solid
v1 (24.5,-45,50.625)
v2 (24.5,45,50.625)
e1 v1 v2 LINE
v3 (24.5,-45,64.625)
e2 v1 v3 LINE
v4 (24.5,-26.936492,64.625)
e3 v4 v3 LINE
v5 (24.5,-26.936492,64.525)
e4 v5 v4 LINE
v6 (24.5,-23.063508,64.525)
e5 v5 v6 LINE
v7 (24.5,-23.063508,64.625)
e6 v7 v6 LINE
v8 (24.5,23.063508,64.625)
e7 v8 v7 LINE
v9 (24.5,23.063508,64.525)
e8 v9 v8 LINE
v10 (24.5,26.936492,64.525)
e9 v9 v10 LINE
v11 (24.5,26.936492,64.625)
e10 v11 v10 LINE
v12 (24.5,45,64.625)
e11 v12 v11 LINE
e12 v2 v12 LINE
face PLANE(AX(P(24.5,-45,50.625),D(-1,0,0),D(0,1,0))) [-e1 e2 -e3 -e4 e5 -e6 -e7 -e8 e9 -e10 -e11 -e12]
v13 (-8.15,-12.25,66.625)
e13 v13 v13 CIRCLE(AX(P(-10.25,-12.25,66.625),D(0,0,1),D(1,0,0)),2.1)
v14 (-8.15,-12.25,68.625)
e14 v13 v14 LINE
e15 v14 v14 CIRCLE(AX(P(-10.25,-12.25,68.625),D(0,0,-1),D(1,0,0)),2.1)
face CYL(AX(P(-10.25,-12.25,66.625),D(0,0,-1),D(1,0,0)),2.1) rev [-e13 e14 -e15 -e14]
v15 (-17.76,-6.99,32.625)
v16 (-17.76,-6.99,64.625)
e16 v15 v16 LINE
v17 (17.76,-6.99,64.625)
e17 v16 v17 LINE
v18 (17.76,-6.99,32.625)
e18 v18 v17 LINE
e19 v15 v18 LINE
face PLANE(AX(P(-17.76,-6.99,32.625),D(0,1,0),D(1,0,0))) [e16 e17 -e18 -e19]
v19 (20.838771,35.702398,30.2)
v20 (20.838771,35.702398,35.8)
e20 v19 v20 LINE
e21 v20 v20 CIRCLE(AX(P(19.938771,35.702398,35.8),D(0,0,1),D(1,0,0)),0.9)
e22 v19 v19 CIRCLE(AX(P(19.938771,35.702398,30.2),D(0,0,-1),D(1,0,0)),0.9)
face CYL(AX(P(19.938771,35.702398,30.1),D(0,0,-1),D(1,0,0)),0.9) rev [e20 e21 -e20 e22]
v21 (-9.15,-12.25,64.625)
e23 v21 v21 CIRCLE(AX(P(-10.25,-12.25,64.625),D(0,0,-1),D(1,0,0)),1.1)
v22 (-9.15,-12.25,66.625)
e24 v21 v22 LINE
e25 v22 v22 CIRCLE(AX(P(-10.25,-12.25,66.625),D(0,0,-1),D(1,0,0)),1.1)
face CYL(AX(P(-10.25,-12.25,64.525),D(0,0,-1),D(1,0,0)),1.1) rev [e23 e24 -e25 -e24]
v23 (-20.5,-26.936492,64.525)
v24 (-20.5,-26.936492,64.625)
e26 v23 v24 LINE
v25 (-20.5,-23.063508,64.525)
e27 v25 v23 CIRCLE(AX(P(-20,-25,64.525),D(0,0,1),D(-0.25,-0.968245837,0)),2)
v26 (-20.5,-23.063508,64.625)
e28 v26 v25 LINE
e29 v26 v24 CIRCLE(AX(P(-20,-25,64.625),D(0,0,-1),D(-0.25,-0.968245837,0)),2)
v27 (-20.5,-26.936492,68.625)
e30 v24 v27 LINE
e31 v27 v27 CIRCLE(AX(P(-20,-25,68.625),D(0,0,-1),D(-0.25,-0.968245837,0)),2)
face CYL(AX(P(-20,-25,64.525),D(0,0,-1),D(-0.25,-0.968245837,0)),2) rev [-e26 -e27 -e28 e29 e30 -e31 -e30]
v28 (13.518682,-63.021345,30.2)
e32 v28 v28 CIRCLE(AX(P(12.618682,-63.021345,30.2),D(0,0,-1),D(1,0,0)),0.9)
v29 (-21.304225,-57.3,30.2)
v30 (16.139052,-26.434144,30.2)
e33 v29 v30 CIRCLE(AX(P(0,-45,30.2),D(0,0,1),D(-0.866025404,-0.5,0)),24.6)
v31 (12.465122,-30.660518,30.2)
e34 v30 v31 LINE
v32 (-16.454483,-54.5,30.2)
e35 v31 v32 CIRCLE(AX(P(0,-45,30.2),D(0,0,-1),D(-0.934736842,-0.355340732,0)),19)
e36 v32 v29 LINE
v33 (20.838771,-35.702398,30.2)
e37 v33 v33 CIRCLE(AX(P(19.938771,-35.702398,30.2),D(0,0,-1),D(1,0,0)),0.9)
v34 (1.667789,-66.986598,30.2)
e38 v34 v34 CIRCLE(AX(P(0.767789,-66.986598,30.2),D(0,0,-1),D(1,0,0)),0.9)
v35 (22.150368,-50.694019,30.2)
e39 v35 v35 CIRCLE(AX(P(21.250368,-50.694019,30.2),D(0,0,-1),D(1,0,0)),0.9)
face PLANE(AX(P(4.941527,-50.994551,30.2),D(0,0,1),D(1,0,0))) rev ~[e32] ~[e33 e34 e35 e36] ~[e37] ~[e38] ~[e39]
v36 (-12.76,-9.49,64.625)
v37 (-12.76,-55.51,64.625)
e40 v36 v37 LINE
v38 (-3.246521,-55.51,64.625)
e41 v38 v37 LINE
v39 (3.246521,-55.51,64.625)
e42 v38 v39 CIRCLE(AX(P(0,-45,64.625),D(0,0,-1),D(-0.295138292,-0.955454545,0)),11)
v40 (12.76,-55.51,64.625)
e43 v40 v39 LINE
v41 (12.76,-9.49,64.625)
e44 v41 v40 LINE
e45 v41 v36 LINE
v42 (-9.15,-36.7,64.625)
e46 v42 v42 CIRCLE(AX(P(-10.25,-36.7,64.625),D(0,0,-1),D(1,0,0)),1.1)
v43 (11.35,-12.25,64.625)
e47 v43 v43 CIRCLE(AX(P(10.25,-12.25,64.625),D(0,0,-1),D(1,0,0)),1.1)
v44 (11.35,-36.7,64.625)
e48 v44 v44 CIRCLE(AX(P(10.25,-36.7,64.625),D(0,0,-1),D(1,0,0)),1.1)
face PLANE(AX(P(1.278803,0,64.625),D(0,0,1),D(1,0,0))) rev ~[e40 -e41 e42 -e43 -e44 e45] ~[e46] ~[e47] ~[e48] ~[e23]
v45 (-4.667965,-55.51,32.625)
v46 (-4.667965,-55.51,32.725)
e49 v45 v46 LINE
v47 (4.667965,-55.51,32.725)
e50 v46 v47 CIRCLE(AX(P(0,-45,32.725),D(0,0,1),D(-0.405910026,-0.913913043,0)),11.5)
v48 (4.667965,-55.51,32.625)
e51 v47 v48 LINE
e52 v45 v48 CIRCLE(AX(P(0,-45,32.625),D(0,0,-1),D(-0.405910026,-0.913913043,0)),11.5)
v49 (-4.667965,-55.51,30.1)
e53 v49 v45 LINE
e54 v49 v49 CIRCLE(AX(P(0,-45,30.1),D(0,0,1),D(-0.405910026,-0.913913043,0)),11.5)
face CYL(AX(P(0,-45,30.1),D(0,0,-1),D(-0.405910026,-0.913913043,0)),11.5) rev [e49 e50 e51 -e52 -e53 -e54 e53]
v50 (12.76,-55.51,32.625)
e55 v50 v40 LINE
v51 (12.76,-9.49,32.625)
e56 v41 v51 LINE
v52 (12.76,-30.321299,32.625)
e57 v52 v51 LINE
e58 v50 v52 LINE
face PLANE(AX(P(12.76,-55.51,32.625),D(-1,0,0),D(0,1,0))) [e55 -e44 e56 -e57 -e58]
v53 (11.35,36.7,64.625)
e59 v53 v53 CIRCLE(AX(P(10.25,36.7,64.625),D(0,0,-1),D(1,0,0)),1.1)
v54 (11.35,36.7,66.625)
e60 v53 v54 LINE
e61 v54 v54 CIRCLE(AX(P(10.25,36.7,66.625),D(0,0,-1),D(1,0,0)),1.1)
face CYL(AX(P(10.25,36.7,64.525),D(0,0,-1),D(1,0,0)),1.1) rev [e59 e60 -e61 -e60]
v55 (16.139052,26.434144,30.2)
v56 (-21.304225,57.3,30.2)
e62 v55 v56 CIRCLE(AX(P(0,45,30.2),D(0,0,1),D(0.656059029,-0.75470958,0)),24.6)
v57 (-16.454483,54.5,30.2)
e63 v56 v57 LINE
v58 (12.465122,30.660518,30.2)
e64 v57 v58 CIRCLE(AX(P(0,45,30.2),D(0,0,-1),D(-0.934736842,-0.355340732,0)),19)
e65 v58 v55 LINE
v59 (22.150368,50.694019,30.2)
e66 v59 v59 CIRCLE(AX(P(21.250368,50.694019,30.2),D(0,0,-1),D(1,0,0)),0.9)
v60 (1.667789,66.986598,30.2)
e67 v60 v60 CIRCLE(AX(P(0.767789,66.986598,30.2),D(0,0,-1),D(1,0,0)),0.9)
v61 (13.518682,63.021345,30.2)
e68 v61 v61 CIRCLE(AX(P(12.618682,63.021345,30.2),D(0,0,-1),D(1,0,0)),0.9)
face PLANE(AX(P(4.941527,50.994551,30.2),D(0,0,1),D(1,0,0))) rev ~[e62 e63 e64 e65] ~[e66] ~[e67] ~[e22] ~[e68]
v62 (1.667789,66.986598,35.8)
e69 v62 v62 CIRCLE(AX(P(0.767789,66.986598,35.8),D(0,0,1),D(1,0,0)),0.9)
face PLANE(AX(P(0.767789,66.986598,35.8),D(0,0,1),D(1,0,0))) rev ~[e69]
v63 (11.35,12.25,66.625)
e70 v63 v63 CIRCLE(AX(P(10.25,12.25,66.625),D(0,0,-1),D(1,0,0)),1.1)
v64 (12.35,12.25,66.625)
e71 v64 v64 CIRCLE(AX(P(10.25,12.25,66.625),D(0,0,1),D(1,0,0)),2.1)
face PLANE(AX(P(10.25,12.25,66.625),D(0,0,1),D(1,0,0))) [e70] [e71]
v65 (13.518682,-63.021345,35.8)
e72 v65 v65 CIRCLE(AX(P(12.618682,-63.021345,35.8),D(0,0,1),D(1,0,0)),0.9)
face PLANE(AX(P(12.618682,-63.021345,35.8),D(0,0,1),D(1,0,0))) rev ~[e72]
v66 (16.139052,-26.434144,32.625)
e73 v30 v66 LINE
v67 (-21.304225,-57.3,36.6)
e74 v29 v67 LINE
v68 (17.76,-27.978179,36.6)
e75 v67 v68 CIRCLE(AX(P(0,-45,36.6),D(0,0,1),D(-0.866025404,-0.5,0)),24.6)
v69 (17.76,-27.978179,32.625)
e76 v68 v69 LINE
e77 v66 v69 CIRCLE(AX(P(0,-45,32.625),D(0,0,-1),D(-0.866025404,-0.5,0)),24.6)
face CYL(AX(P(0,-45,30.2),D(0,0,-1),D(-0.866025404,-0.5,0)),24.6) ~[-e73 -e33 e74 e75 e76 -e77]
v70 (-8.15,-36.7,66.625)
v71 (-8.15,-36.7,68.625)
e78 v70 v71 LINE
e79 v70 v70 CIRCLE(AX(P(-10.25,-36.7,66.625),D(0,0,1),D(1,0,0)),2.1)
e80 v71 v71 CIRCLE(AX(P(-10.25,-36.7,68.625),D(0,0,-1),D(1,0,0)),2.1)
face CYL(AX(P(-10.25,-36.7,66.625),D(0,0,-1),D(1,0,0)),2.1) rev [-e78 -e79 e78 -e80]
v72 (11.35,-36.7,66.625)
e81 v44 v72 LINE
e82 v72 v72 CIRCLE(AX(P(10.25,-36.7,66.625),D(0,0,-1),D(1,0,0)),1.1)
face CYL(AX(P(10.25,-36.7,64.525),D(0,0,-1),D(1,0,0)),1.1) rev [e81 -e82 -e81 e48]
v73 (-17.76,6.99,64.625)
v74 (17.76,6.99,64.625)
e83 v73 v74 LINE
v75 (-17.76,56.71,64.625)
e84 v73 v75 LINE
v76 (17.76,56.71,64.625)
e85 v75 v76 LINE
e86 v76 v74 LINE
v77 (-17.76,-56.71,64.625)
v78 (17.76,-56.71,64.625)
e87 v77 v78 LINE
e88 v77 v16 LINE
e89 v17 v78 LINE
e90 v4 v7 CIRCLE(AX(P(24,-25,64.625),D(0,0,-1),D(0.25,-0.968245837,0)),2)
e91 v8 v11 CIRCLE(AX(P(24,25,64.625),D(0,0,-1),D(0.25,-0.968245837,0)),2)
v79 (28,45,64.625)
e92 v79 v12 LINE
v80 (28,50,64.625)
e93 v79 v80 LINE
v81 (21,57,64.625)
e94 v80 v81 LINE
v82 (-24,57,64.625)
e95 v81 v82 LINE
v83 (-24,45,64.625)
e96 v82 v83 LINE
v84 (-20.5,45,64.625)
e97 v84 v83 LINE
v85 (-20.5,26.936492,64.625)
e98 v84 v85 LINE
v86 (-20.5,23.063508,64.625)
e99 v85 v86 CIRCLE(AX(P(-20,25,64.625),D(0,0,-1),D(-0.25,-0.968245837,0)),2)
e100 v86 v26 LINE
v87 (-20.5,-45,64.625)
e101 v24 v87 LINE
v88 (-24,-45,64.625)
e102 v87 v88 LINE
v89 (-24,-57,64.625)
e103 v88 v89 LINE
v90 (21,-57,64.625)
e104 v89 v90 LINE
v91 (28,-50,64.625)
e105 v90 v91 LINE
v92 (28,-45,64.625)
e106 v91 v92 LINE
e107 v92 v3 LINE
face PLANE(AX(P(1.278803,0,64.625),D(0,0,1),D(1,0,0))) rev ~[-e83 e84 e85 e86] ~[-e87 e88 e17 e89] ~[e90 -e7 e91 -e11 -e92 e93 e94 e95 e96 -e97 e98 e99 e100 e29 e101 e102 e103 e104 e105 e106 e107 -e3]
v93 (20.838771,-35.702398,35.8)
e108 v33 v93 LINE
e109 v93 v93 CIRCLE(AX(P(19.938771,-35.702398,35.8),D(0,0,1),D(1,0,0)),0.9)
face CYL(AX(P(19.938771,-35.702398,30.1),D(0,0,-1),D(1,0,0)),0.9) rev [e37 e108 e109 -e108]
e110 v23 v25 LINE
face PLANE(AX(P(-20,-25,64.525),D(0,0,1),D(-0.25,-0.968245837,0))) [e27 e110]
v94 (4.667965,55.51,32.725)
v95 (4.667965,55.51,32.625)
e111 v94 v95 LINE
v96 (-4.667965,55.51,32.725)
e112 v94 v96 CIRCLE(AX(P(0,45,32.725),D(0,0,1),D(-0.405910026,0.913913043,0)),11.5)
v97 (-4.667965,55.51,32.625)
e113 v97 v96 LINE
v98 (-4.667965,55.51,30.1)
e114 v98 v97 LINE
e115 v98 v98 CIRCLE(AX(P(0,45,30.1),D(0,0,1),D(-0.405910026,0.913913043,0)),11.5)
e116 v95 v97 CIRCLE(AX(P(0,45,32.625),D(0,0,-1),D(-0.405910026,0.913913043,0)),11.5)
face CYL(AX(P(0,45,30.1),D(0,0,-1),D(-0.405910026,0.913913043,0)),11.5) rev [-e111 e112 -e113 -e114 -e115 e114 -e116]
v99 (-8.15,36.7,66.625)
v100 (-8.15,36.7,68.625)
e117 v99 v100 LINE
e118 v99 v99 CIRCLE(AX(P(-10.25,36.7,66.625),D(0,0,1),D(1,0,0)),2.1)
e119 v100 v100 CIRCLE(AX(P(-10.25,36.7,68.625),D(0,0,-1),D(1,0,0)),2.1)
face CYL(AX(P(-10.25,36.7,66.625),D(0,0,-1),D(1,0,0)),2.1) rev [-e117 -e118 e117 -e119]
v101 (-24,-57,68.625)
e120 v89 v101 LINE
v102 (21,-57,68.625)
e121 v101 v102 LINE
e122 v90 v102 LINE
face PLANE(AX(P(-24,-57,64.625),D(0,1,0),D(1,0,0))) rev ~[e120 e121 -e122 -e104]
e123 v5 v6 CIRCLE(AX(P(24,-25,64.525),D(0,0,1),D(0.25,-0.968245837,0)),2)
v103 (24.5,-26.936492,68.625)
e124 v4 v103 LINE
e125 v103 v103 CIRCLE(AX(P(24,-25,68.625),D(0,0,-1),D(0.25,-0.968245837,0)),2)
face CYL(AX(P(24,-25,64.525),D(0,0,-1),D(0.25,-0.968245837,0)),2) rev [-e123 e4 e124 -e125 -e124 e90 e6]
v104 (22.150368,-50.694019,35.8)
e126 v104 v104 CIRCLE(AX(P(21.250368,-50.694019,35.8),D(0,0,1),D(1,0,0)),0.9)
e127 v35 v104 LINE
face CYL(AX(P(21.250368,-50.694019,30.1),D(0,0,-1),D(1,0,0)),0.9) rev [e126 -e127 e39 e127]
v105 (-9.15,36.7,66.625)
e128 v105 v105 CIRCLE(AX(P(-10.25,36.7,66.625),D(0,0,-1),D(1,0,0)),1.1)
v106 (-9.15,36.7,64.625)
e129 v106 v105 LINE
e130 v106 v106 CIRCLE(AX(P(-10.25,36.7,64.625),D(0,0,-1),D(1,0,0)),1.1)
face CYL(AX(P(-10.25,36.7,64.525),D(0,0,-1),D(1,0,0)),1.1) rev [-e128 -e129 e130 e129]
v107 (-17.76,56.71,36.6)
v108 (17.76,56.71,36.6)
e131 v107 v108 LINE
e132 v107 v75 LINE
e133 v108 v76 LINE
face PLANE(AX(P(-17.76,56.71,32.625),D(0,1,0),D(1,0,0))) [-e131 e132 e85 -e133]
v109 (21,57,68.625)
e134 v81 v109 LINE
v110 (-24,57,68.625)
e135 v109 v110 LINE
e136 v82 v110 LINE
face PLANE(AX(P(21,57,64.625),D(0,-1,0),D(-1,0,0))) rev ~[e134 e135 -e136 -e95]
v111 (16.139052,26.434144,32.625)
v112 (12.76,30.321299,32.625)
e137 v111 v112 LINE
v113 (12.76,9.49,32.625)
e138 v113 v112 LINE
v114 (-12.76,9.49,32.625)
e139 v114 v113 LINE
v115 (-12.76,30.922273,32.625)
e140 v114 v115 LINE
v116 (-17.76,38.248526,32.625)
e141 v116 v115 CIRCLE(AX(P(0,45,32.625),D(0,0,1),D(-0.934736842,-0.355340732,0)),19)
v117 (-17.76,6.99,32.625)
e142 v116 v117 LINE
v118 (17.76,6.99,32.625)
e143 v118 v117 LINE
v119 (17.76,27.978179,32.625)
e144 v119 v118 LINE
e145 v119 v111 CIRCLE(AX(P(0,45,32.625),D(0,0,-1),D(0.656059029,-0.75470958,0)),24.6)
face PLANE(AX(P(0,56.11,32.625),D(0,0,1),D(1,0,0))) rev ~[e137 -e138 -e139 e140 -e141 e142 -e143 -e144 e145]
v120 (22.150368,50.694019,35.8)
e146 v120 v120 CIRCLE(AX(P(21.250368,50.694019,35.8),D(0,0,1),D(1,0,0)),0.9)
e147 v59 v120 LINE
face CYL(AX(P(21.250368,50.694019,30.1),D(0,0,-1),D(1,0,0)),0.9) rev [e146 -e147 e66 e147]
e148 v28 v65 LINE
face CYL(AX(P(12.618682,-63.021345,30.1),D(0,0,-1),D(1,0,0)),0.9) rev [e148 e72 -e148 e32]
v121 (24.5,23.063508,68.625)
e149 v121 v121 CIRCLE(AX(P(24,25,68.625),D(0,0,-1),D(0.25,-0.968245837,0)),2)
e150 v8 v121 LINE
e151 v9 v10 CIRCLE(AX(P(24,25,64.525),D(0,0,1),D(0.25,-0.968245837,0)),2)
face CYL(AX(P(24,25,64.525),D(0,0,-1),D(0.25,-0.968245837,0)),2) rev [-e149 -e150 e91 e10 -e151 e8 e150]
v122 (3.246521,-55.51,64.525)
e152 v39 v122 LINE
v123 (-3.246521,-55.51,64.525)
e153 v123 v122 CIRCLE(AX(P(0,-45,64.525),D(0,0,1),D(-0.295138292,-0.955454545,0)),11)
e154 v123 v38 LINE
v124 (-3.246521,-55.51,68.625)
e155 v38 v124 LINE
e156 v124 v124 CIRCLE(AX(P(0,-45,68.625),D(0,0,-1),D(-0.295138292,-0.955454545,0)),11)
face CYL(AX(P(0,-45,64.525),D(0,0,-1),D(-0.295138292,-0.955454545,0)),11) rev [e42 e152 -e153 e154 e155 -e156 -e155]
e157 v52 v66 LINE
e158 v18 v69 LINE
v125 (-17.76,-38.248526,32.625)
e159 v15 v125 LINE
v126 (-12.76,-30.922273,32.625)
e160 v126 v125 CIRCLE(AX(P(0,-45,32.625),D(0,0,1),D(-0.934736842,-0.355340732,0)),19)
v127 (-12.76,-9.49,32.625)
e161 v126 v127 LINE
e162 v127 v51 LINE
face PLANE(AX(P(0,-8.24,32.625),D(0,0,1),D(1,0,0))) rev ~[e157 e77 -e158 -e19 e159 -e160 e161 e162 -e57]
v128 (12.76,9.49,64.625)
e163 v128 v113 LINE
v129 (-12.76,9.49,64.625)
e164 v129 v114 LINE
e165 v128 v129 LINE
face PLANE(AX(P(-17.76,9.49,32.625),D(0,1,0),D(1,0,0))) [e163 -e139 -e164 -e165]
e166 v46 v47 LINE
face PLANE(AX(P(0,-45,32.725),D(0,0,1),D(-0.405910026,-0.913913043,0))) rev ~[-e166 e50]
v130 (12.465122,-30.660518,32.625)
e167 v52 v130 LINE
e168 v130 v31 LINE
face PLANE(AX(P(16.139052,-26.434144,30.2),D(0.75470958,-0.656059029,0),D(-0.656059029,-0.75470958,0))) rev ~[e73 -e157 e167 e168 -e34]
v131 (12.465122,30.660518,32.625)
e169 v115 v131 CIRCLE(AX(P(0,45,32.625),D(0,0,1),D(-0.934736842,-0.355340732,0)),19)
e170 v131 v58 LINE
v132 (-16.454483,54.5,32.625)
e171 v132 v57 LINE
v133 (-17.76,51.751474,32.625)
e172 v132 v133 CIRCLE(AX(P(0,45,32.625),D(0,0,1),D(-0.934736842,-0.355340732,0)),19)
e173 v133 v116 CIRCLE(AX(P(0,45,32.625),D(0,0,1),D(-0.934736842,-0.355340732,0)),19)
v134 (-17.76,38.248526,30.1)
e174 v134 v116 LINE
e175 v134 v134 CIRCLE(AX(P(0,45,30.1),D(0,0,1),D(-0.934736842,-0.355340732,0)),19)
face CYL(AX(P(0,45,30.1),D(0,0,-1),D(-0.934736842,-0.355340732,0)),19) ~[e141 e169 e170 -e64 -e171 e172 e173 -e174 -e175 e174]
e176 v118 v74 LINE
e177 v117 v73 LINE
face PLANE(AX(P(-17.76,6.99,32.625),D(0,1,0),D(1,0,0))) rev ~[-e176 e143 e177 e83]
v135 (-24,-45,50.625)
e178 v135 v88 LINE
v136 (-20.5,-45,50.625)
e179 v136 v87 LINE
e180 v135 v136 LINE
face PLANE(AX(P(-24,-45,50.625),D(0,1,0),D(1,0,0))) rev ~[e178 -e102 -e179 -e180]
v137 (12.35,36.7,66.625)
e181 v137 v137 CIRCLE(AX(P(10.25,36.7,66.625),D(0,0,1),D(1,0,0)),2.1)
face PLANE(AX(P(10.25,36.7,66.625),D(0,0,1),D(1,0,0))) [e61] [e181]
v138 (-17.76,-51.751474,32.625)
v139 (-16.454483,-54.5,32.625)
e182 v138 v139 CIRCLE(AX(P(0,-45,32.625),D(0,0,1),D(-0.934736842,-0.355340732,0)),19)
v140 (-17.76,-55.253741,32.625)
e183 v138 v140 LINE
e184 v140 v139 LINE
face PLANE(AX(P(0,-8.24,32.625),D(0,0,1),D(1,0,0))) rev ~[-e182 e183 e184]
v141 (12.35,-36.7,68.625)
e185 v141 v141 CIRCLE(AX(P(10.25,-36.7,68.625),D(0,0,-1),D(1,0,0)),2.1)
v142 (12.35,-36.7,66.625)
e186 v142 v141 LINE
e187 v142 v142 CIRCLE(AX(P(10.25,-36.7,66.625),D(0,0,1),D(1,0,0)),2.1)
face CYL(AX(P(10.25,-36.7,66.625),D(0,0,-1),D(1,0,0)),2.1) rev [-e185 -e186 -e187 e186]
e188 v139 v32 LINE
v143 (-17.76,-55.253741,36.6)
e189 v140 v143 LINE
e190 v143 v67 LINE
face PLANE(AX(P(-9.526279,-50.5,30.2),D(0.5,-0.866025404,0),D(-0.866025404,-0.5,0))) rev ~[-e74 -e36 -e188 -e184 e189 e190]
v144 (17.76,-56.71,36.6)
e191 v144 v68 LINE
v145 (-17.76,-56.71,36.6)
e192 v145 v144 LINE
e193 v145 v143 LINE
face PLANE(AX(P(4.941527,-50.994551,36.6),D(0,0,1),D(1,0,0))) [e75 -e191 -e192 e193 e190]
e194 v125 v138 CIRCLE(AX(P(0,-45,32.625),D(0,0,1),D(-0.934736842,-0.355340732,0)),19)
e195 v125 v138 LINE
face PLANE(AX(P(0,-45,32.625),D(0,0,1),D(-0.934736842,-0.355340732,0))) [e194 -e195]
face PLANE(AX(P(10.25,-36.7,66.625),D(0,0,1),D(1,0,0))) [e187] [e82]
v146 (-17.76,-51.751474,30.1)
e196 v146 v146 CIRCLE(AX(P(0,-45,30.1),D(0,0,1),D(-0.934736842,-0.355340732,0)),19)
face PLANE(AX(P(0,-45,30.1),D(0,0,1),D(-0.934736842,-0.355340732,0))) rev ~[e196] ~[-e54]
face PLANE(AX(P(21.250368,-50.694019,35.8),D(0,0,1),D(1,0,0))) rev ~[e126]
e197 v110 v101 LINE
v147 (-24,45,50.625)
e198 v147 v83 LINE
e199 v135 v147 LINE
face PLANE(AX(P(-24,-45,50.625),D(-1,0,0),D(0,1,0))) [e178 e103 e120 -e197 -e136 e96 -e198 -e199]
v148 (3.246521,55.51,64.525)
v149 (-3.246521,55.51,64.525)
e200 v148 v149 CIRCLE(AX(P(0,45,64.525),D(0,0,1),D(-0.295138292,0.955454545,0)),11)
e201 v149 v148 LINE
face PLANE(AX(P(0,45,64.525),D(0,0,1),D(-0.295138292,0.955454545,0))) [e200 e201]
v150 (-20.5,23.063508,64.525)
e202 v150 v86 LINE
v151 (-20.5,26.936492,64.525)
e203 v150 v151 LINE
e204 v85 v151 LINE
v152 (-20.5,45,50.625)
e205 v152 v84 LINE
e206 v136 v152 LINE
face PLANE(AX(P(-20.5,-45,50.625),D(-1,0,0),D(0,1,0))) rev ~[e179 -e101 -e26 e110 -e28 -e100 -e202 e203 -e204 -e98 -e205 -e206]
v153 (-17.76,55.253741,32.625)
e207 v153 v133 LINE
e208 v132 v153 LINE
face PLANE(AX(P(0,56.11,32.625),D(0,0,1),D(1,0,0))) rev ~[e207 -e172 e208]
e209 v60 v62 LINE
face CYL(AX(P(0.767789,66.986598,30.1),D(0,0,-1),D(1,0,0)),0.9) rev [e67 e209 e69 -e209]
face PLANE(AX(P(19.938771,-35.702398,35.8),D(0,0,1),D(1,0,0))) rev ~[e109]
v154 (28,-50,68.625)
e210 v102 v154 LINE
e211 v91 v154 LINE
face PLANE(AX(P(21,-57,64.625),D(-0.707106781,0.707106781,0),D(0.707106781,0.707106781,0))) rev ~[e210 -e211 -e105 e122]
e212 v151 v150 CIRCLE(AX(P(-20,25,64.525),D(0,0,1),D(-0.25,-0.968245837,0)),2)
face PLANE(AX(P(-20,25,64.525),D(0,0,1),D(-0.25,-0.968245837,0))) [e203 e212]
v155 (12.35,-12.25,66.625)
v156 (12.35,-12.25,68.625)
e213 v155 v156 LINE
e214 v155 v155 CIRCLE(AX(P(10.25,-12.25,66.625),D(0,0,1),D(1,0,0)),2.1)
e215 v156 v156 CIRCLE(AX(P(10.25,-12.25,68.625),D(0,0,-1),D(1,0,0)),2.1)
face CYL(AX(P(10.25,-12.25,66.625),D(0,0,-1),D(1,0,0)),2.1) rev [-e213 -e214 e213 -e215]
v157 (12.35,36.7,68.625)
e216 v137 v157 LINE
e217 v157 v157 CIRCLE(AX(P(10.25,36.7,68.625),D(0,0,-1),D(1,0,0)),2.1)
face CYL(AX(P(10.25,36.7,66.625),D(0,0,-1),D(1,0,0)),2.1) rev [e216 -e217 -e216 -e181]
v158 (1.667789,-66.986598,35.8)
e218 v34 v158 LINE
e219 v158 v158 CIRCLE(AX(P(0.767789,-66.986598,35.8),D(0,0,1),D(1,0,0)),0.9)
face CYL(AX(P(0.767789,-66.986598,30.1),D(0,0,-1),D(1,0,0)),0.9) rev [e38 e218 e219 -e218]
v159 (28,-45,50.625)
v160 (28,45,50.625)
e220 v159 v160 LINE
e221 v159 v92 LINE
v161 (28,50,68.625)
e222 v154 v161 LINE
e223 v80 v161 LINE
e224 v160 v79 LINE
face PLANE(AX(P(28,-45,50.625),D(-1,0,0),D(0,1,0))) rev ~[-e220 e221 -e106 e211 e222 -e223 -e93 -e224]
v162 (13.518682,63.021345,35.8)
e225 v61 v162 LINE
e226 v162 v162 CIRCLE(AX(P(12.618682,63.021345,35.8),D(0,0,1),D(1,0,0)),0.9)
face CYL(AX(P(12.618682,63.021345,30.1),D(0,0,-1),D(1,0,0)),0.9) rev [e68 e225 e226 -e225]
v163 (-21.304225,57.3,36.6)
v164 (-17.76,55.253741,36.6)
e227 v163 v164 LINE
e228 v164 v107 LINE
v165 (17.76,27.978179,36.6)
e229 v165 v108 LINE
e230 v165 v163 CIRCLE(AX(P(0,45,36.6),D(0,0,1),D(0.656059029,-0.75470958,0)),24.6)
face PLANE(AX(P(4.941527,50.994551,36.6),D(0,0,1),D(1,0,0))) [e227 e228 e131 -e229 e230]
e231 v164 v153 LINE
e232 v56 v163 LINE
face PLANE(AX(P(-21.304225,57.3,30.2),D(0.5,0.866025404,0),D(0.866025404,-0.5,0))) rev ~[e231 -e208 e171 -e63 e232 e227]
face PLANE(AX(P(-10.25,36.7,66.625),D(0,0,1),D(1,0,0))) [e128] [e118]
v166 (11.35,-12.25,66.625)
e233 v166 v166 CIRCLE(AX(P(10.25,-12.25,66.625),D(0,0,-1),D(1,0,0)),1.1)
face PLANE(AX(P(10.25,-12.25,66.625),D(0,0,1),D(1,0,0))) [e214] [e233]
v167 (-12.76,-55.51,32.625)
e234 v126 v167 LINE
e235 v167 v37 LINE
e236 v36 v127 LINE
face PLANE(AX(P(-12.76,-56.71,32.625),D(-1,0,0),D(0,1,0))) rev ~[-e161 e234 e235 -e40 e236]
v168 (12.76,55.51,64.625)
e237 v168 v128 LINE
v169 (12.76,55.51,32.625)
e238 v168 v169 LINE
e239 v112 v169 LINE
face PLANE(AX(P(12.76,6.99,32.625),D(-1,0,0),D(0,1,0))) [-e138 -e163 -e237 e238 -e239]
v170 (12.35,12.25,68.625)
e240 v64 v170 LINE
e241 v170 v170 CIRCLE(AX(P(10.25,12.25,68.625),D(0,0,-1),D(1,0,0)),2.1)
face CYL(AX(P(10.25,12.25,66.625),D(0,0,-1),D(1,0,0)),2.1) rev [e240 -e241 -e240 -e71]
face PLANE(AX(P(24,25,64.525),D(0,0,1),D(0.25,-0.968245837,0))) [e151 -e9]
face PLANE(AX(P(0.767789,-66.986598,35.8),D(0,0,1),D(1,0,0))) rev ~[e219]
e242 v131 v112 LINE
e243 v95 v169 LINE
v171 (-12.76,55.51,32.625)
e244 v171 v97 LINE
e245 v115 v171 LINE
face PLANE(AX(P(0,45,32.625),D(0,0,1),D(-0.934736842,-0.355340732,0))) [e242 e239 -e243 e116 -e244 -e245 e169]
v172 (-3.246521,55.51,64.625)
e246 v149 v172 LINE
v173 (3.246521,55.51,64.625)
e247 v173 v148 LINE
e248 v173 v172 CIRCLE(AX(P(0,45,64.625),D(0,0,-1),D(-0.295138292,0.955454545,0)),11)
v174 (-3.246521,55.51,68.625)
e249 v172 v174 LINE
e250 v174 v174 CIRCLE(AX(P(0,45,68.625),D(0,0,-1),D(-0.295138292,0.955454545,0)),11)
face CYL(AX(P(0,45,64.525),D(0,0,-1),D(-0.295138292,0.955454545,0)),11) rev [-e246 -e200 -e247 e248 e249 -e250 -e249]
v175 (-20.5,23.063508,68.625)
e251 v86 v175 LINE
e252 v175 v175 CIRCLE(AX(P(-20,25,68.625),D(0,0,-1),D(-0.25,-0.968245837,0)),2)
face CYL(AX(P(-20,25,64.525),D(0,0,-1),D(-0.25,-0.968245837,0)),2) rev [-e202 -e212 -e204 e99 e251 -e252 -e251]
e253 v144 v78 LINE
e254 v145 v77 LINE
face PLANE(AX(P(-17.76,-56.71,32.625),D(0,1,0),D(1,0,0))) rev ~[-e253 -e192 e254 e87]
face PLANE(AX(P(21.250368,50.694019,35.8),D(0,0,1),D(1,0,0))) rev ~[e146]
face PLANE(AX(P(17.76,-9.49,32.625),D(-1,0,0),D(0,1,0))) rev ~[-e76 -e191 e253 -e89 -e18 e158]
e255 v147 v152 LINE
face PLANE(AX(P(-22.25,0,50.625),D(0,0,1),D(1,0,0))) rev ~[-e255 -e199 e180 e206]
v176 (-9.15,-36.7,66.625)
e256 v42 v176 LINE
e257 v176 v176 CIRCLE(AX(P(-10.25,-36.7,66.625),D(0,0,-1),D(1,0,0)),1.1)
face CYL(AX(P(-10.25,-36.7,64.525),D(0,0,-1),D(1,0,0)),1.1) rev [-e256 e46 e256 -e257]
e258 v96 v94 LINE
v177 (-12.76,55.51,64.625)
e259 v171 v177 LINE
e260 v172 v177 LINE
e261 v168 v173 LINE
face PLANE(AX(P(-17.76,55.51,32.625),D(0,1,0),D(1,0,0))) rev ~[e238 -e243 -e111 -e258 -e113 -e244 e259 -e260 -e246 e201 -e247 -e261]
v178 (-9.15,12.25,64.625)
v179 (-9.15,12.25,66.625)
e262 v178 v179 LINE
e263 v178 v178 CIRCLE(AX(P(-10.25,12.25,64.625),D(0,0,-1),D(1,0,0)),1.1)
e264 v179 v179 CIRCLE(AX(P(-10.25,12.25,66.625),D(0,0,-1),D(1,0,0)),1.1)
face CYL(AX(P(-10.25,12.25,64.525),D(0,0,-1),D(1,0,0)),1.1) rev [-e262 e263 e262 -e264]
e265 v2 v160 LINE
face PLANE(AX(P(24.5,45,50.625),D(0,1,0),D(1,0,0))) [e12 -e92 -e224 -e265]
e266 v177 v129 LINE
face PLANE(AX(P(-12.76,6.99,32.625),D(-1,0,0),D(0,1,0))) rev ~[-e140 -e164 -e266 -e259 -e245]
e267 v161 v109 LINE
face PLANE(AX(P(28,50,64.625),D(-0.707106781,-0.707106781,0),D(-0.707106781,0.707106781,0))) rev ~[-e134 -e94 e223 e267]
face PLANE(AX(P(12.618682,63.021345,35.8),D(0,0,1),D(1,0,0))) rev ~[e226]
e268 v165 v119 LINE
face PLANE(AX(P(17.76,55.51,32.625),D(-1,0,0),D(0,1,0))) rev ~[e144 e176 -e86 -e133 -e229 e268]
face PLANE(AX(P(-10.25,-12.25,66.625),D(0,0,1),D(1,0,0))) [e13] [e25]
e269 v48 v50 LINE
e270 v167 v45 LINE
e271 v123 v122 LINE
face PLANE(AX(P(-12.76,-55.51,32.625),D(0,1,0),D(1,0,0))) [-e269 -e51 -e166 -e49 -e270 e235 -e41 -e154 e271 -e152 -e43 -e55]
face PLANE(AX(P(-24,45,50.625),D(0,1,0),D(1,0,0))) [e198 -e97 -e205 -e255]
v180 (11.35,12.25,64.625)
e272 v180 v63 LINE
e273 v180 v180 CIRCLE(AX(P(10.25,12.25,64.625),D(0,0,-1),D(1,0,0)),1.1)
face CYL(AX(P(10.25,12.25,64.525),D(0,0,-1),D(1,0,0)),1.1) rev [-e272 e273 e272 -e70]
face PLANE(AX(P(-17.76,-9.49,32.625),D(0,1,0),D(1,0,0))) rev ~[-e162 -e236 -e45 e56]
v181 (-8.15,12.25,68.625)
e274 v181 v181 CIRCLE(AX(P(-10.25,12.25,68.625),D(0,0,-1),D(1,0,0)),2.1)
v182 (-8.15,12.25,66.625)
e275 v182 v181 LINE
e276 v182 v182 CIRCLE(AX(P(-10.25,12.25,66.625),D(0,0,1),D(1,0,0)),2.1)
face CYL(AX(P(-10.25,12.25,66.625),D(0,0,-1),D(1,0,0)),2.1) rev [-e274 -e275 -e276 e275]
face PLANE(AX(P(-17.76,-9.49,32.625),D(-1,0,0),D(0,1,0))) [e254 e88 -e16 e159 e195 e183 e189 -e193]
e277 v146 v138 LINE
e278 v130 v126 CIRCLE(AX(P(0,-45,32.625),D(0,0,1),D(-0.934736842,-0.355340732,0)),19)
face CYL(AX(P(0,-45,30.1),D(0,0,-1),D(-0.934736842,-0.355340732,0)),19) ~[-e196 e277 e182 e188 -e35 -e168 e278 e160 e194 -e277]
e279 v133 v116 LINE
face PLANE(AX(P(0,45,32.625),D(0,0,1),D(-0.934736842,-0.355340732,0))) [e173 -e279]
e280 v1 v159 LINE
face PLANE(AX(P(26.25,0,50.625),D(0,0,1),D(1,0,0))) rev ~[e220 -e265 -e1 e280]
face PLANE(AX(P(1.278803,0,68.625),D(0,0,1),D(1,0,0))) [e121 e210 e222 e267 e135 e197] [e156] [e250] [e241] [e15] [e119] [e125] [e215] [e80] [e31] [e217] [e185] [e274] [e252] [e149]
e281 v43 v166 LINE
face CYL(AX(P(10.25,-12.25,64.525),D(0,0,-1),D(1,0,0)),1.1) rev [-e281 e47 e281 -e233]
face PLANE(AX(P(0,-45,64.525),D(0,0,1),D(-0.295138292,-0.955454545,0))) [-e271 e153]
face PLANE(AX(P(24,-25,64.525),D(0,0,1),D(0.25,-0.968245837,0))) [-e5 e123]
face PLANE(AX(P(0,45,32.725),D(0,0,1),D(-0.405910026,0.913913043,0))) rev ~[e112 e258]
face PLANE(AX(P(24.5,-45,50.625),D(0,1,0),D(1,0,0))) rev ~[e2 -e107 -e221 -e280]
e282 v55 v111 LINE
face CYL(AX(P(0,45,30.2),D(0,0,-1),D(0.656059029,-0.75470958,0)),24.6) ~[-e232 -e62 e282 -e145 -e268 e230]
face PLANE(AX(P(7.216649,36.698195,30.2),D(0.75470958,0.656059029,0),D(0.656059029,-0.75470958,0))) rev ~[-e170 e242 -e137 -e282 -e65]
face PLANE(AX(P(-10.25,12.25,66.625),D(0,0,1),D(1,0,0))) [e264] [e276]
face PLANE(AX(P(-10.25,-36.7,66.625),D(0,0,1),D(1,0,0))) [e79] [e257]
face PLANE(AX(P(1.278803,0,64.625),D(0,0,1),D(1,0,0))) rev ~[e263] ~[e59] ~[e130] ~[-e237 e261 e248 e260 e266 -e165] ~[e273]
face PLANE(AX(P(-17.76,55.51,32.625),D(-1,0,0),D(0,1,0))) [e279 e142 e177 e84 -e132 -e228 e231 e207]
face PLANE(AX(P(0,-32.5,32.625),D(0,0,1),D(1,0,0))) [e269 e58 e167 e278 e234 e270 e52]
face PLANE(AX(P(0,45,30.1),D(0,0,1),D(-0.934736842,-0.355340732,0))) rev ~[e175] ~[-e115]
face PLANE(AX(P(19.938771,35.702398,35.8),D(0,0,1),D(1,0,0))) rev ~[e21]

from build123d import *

# Parameters (mm, degrees)
BOSS_1_DEPTH    = 4
S_BOX2_W        = 3.5
S_BOX2_H        = 90
BOSS_2_DEPTH    = 14.5
S_BOX3_W        = 3.5
S_BOX3_H        = 90
BOSS_3_DEPTH    = 14.5
S_BOX4_W        = 35.52
S_BOX4_H        = 2.5
BOSS_4_DEPTH    = 36
S_BOX5_W        = 35.52
S_BOX5_H        = 1.2
BOSS_5_DEPTH    = 36
S_BOX6_W        = 5
S_BOX6_H        = 49.72
BOSS_6_DEPTH    = 36
S_BOX7_W        = 5
S_BOX7_H        = 49.72
BOSS_7_DEPTH    = 36
S_BOX8_W        = 35.52
S_BOX8_H        = 49.72
BOSS_8_DEPTH    = 4
S_CYL9_R        = 19
BOSS_9_DEPTH    = 2.525
BOSS_10_DEPTH   = 6.4
S_BOX11_W       = 35.52
S_BOX11_H       = 1.2
BOSS_11_DEPTH   = 36
S_BOX12_W       = 35.52
S_BOX12_H       = 2.5
BOSS_12_DEPTH   = 36
S_BOX13_W       = 5
S_BOX13_H       = 49.72
BOSS_13_DEPTH   = 36
S_BOX14_W       = 5
S_BOX14_H       = 49.72
BOSS_14_DEPTH   = 36
S_BOX15_W       = 35.52
S_BOX15_H       = 49.72
BOSS_15_DEPTH   = 4
S_CYL16_R       = 19
BOSS_16_DEPTH   = 2.525
BOSS_17_DEPTH   = 6.4
S_HOLE18_R      = 11
HOLE_18_DEPTH   = 4.2
S_HOLE19_R      = 1.1
HOLE_19_DEPTH   = 4.2
S_HOLE20_R      = 2.1
HOLE_20_DEPTH   = 2.1
S_HOLE21_R      = 1.1
HOLE_21_DEPTH   = 4.2
S_HOLE22_R      = 2.1
HOLE_22_DEPTH   = 2.1
S_HOLE23_R      = 1.1
HOLE_23_DEPTH   = 4.2
S_HOLE24_R      = 2.1
HOLE_24_DEPTH   = 2.1
S_HOLE25_R      = 1.1
HOLE_25_DEPTH   = 4.2
S_HOLE26_R      = 2.1
HOLE_26_DEPTH   = 2.1
S_CUT27_W       = 25.52
S_CUT27_H       = 46.02
POCKET_27_DEPTH = 4.075
S_HOLE28_R      = 11.5
HOLE_28_DEPTH   = 2.625
S_HOLE29_R      = 0.9
HOLE_29_DEPTH   = 5.7
S_HOLE30_R      = 0.9
HOLE_30_DEPTH   = 5.7
S_HOLE31_R      = 0.9
HOLE_31_DEPTH   = 5.7
S_HOLE32_R      = 0.9
HOLE_32_DEPTH   = 5.7
S_HOLE33_R      = 11
HOLE_33_DEPTH   = 4.2
S_HOLE34_R      = 1.1
HOLE_34_DEPTH   = 4.2
S_HOLE35_R      = 2.1
HOLE_35_DEPTH   = 2.1
S_HOLE36_R      = 1.1
HOLE_36_DEPTH   = 4.2
S_HOLE37_R      = 2.1
HOLE_37_DEPTH   = 2.1
S_HOLE38_R      = 1.1
HOLE_38_DEPTH   = 4.2
S_HOLE39_R      = 2.1
HOLE_39_DEPTH   = 2.1
S_HOLE40_R      = 1.1
HOLE_40_DEPTH   = 4.2
S_HOLE41_R      = 2.1
HOLE_41_DEPTH   = 2.1
S_CUT42_W       = 25.52
S_CUT42_H       = 46.02
POCKET_42_DEPTH = 4.075
S_HOLE43_R      = 11.5
HOLE_43_DEPTH   = 2.625
S_HOLE44_R      = 0.9
HOLE_44_DEPTH   = 5.7
S_HOLE45_R      = 0.9
HOLE_45_DEPTH   = 5.7
S_HOLE46_R      = 0.9
HOLE_46_DEPTH   = 5.7
S_HOLE47_R      = 0.9
HOLE_47_DEPTH   = 5.7
S_HOLE48_R      = 2
HOLE_48_DEPTH   = 4.2
S_HOLE49_R      = 2
HOLE_49_DEPTH   = 4.2
S_HOLE50_R      = 2
HOLE_50_DEPTH   = 4.2
S_HOLE51_R      = 2
HOLE_51_DEPTH   = 4.2


with BuildPart() as part:
    # S_prism1 → Boss_1 (new body)
    with BuildSketch(Plane.XY.offset(64.625)):
        Polygon((28, -50), (28, 50), (21, 57), (-24, 57), (-24, -57), (21, -57), align=None)
    extrude(amount=BOSS_1_DEPTH)

    # S_box2 → Boss_2 (add)
    with BuildSketch(Plane.XY.offset(50.625)):
        with Locations((26.25, 0)):
            Rectangle(S_BOX2_W, S_BOX2_H)
    extrude(amount=BOSS_2_DEPTH)

    # S_box3 → Boss_3 (add)
    with BuildSketch(Plane.XY.offset(50.625)):
        with Locations((-22.25, 0)):
            Rectangle(S_BOX3_W, S_BOX3_H)
    extrude(amount=BOSS_3_DEPTH)

    # S_box4 → Boss_4 (add)
    with BuildSketch(Plane.XY.offset(32.625)):
        with Locations((0, 8.24)):
            Rectangle(S_BOX4_W, S_BOX4_H)
    extrude(amount=BOSS_4_DEPTH)

    # S_box5 → Boss_5 (add)
    with BuildSketch(Plane.XY.offset(32.625)):
        with Locations((0, 56.11)):
            Rectangle(S_BOX5_W, S_BOX5_H)
    extrude(amount=BOSS_5_DEPTH)

    # S_box6 → Boss_6 (add)
    with BuildSketch(Plane.XY.offset(32.625)):
        with Locations((-15.26, 31.85)):
            Rectangle(S_BOX6_W, S_BOX6_H)
    extrude(amount=BOSS_6_DEPTH)

    # S_box7 → Boss_7 (add)
    with BuildSketch(Plane.XY.offset(32.625)):
        with Locations((15.26, 31.85)):
            Rectangle(S_BOX7_W, S_BOX7_H)
    extrude(amount=BOSS_7_DEPTH)

    # S_box8 → Boss_8 (add)
    with BuildSketch(Plane.XY.offset(64.625)):
        with Locations((0, 31.85)):
            Rectangle(S_BOX8_W, S_BOX8_H)
    extrude(amount=BOSS_8_DEPTH)

    # S_cyl9 → Boss_9 (add)
    with BuildSketch(Plane.XY.offset(30.1)):
        with Locations(Location((0, 45, 0), (0, 0, 200.814328514))):
            Circle(S_CYL9_R)
    extrude(amount=BOSS_9_DEPTH)

    # S_prism10 → Boss_10 (add)
    with BuildSketch(Plane.XY.offset(30.2)):
        with BuildLine():
            Line((-21.304224933, 57.3), (-9.526279442, 50.5))
            ThreePointArc((-9.526279442, 50.5), (6.996860423, 53.487870417), (7.216649319, 36.698194618))
            Line((7.216649319, 36.698194618), (16.139052113, 26.434144327))
            ThreePointArc((16.139052113, 26.434144327), (15.647524219, 63.981964751), (-21.304224933, 57.3))
        make_face()
    extrude(amount=BOSS_10_DEPTH)

    # S_box11 → Boss_11 (add)
    with BuildSketch(Plane.XY.offset(32.625)):
        with Locations((0, -56.11)):
            Rectangle(S_BOX11_W, S_BOX11_H)
    extrude(amount=BOSS_11_DEPTH)

    # S_box12 → Boss_12 (add)
    with BuildSketch(Plane.XY.offset(32.625)):
        with Locations((0, -8.24)):
            Rectangle(S_BOX12_W, S_BOX12_H)
    extrude(amount=BOSS_12_DEPTH)

    # S_box13 → Boss_13 (add)
    with BuildSketch(Plane.XY.offset(32.625)):
        with Locations((-15.26, -31.85)):
            Rectangle(S_BOX13_W, S_BOX13_H)
    extrude(amount=BOSS_13_DEPTH)

    # S_box14 → Boss_14 (add)
    with BuildSketch(Plane.XY.offset(32.625)):
        with Locations((15.26, -31.85)):
            Rectangle(S_BOX14_W, S_BOX14_H)
    extrude(amount=BOSS_14_DEPTH)

    # S_box15 → Boss_15 (add)
    with BuildSketch(Plane.XY.offset(64.625)):
        with Locations((0, -31.85)):
            Rectangle(S_BOX15_W, S_BOX15_H)
    extrude(amount=BOSS_15_DEPTH)

    # S_cyl16 → Boss_16 (add)
    with BuildSketch(Plane.XY.offset(30.1)):
        with Locations(Location((0, -45, 0), (0, 0, 200.814328514))):
            Circle(S_CYL16_R)
    extrude(amount=BOSS_16_DEPTH)

    # S_prism17 → Boss_17 (add)
    with BuildSketch(Plane.XY.offset(30.2)):
        with BuildLine():
            Line((16.139052113, -26.434144327), (7.216649319, -36.698194618))
            ThreePointArc((7.216649319, -36.698194618), (6.996860423, -53.487870417), (-9.526279442, -50.5))
            Line((-9.526279442, -50.5), (-21.304224933, -57.3))
            ThreePointArc((-21.304224933, -57.3), (15.647524219, -63.981964751), (16.139052113, -26.434144327))
        make_face()
    extrude(amount=BOSS_17_DEPTH)

    # S_hole18 → Hole_18 (cut)
    with BuildSketch(Plane.XY.offset(64.525)):
        with Locations(Location((0, 45, 0), (0, 0, 107.165830165))):
            Circle(S_HOLE18_R)
    extrude(amount=HOLE_18_DEPTH, mode=Mode.SUBTRACT)

    # S_hole19 → Hole_19 (cut)
    with BuildSketch(Plane.XY.offset(64.525)):
        with Locations((-10.25, 36.7)):
            Circle(S_HOLE19_R)
    extrude(amount=HOLE_19_DEPTH, mode=Mode.SUBTRACT)

    # S_hole20 → Hole_20 (cut)
    with BuildSketch(Plane.XY.offset(66.625)):
        with Locations((-10.25, 36.7)):
            Circle(S_HOLE20_R)
    extrude(amount=HOLE_20_DEPTH, mode=Mode.SUBTRACT)

    # S_hole21 → Hole_21 (cut)
    with BuildSketch(Plane.XY.offset(64.525)):
        with Locations((10.25, 36.7)):
            Circle(S_HOLE21_R)
    extrude(amount=HOLE_21_DEPTH, mode=Mode.SUBTRACT)

    # S_hole22 → Hole_22 (cut)
    with BuildSketch(Plane.XY.offset(66.625)):
        with Locations((10.25, 36.7)):
            Circle(S_HOLE22_R)
    extrude(amount=HOLE_22_DEPTH, mode=Mode.SUBTRACT)

    # S_hole23 → Hole_23 (cut)
    with BuildSketch(Plane.XY.offset(64.525)):
        with Locations((-10.25, 12.25)):
            Circle(S_HOLE23_R)
    extrude(amount=HOLE_23_DEPTH, mode=Mode.SUBTRACT)

    # S_hole24 → Hole_24 (cut)
    with BuildSketch(Plane.XY.offset(66.625)):
        with Locations((-10.25, 12.25)):
            Circle(S_HOLE24_R)
    extrude(amount=HOLE_24_DEPTH, mode=Mode.SUBTRACT)

    # S_hole25 → Hole_25 (cut)
    with BuildSketch(Plane.XY.offset(64.525)):
        with Locations((10.25, 12.25)):
            Circle(S_HOLE25_R)
    extrude(amount=HOLE_25_DEPTH, mode=Mode.SUBTRACT)

    # S_hole26 → Hole_26 (cut)
    with BuildSketch(Plane.XY.offset(66.625)):
        with Locations((10.25, 12.25)):
            Circle(S_HOLE26_R)
    extrude(amount=HOLE_26_DEPTH, mode=Mode.SUBTRACT)

    # S_cut27 → Pocket_27 (cut)
    with BuildSketch(Plane.XY.offset(32.625)):
        with Locations((0, 32.5)):
            Rectangle(S_CUT27_W, S_CUT27_H)
    extrude(amount=POCKET_27_DEPTH, mode=Mode.SUBTRACT)

    # S_hole28 → Hole_28 (cut)
    with BuildSketch(Plane.XY.offset(30.1)):
        with Locations(Location((0, 45, 0), (0, 0, 113.948166611))):
            Circle(S_HOLE28_R)
    extrude(amount=HOLE_28_DEPTH, mode=Mode.SUBTRACT)

    # S_hole29 → Hole_29 (cut)
    with BuildSketch(Plane.XY.offset(30.1)):
        with Locations((19.938771315, 35.702398242)):
            Circle(S_HOLE29_R)
    extrude(amount=HOLE_29_DEPTH, mode=Mode.SUBTRACT)

    # S_hole30 → Hole_30 (cut)
    with BuildSketch(Plane.XY.offset(30.1)):
        with Locations((21.250368178, 50.694018992)):
            Circle(S_HOLE30_R)
    extrude(amount=HOLE_30_DEPTH, mode=Mode.SUBTRACT)

    # S_hole31 → Hole_31 (cut)
    with BuildSketch(Plane.XY.offset(30.1)):
        with Locations((12.6186816, 63.021344974)):
            Circle(S_HOLE31_R)
    extrude(amount=HOLE_31_DEPTH, mode=Mode.SUBTRACT)

    # S_hole32 → Hole_32 (cut)
    with BuildSketch(Plane.XY.offset(30.1)):
        with Locations((0.767788927, 66.986598194)):
            Circle(S_HOLE32_R)
    extrude(amount=HOLE_32_DEPTH, mode=Mode.SUBTRACT)

    # S_hole33 → Hole_33 (cut)
    with BuildSketch(Plane.XY.offset(64.525)):
        with Locations(Location((0, -45, 0), (0, 0, 252.834169835))):
            Circle(S_HOLE33_R)
    extrude(amount=HOLE_33_DEPTH, mode=Mode.SUBTRACT)

    # S_hole34 → Hole_34 (cut)
    with BuildSketch(Plane.XY.offset(64.525)):
        with Locations((-10.25, -36.7)):
            Circle(S_HOLE34_R)
    extrude(amount=HOLE_34_DEPTH, mode=Mode.SUBTRACT)

    # S_hole35 → Hole_35 (cut)
    with BuildSketch(Plane.XY.offset(66.625)):
        with Locations((-10.25, -36.7)):
            Circle(S_HOLE35_R)
    extrude(amount=HOLE_35_DEPTH, mode=Mode.SUBTRACT)

    # S_hole36 → Hole_36 (cut)
    with BuildSketch(Plane.XY.offset(64.525)):
        with Locations((10.25, -36.7)):
            Circle(S_HOLE36_R)
    extrude(amount=HOLE_36_DEPTH, mode=Mode.SUBTRACT)

    # S_hole37 → Hole_37 (cut)
    with BuildSketch(Plane.XY.offset(66.625)):
        with Locations((10.25, -36.7)):
            Circle(S_HOLE37_R)
    extrude(amount=HOLE_37_DEPTH, mode=Mode.SUBTRACT)

    # S_hole38 → Hole_38 (cut)
    with BuildSketch(Plane.XY.offset(64.525)):
        with Locations((-10.25, -12.25)):
            Circle(S_HOLE38_R)
    extrude(amount=HOLE_38_DEPTH, mode=Mode.SUBTRACT)

    # S_hole39 → Hole_39 (cut)
    with BuildSketch(Plane.XY.offset(66.625)):
        with Locations((-10.25, -12.25)):
            Circle(S_HOLE39_R)
    extrude(amount=HOLE_39_DEPTH, mode=Mode.SUBTRACT)

    # S_hole40 → Hole_40 (cut)
    with BuildSketch(Plane.XY.offset(64.525)):
        with Locations((10.25, -12.25)):
            Circle(S_HOLE40_R)
    extrude(amount=HOLE_40_DEPTH, mode=Mode.SUBTRACT)

    # S_hole41 → Hole_41 (cut)
    with BuildSketch(Plane.XY.offset(66.625)):
        with Locations((10.25, -12.25)):
            Circle(S_HOLE41_R)
    extrude(amount=HOLE_41_DEPTH, mode=Mode.SUBTRACT)

    # S_cut42 → Pocket_42 (cut)
    with BuildSketch(Plane.XY.offset(32.625)):
        with Locations((0, -32.5)):
            Rectangle(S_CUT42_W, S_CUT42_H)
    extrude(amount=POCKET_42_DEPTH, mode=Mode.SUBTRACT)

    # S_hole43 → Hole_43 (cut)
    with BuildSketch(Plane.XY.offset(30.1)):
        with Locations(Location((0, -45, 0), (0, 0, 246.051833389))):
            Circle(S_HOLE43_R)
    extrude(amount=HOLE_43_DEPTH, mode=Mode.SUBTRACT)

    # S_hole44 → Hole_44 (cut)
    with BuildSketch(Plane.XY.offset(30.1)):
        with Locations((19.938771315, -35.702398242)):
            Circle(S_HOLE44_R)
    extrude(amount=HOLE_44_DEPTH, mode=Mode.SUBTRACT)

    # S_hole45 → Hole_45 (cut)
    with BuildSketch(Plane.XY.offset(30.1)):
        with Locations((21.250368178, -50.694018992)):
            Circle(S_HOLE45_R)
    extrude(amount=HOLE_45_DEPTH, mode=Mode.SUBTRACT)

    # S_hole46 → Hole_46 (cut)
    with BuildSketch(Plane.XY.offset(30.1)):
        with Locations((12.6186816, -63.021344974)):
            Circle(S_HOLE46_R)
    extrude(amount=HOLE_46_DEPTH, mode=Mode.SUBTRACT)

    # S_hole47 → Hole_47 (cut)
    with BuildSketch(Plane.XY.offset(30.1)):
        with Locations((0.767788927, -66.986598194)):
            Circle(S_HOLE47_R)
    extrude(amount=HOLE_47_DEPTH, mode=Mode.SUBTRACT)

    # S_hole48 → Hole_48 (cut)
    with BuildSketch(Plane.XY.offset(64.525)):
        with Locations(Location((-20, -25, 0), (0, 0, 255.522487814))):
            Circle(S_HOLE48_R)
    extrude(amount=HOLE_48_DEPTH, mode=Mode.SUBTRACT)

    # S_hole49 → Hole_49 (cut)
    with BuildSketch(Plane.XY.offset(64.525)):
        with Locations(Location((-20, 25, 0), (0, 0, 255.522487814))):
            Circle(S_HOLE49_R)
    extrude(amount=HOLE_49_DEPTH, mode=Mode.SUBTRACT)

    # S_hole50 → Hole_50 (cut)
    with BuildSketch(Plane.XY.offset(64.525)):
        with Locations(Location((24, -25, 0), (0, 0, 284.477512186))):
            Circle(S_HOLE50_R)
    extrude(amount=HOLE_50_DEPTH, mode=Mode.SUBTRACT)

    # S_hole51 → Hole_51 (cut)
    with BuildSketch(Plane.XY.offset(64.525)):
        with Locations(Location((24, 25, 0), (0, 0, 284.477512186))):
            Circle(S_HOLE51_R)
    extrude(amount=HOLE_51_DEPTH, mode=Mode.SUBTRACT)


solid = part.part
